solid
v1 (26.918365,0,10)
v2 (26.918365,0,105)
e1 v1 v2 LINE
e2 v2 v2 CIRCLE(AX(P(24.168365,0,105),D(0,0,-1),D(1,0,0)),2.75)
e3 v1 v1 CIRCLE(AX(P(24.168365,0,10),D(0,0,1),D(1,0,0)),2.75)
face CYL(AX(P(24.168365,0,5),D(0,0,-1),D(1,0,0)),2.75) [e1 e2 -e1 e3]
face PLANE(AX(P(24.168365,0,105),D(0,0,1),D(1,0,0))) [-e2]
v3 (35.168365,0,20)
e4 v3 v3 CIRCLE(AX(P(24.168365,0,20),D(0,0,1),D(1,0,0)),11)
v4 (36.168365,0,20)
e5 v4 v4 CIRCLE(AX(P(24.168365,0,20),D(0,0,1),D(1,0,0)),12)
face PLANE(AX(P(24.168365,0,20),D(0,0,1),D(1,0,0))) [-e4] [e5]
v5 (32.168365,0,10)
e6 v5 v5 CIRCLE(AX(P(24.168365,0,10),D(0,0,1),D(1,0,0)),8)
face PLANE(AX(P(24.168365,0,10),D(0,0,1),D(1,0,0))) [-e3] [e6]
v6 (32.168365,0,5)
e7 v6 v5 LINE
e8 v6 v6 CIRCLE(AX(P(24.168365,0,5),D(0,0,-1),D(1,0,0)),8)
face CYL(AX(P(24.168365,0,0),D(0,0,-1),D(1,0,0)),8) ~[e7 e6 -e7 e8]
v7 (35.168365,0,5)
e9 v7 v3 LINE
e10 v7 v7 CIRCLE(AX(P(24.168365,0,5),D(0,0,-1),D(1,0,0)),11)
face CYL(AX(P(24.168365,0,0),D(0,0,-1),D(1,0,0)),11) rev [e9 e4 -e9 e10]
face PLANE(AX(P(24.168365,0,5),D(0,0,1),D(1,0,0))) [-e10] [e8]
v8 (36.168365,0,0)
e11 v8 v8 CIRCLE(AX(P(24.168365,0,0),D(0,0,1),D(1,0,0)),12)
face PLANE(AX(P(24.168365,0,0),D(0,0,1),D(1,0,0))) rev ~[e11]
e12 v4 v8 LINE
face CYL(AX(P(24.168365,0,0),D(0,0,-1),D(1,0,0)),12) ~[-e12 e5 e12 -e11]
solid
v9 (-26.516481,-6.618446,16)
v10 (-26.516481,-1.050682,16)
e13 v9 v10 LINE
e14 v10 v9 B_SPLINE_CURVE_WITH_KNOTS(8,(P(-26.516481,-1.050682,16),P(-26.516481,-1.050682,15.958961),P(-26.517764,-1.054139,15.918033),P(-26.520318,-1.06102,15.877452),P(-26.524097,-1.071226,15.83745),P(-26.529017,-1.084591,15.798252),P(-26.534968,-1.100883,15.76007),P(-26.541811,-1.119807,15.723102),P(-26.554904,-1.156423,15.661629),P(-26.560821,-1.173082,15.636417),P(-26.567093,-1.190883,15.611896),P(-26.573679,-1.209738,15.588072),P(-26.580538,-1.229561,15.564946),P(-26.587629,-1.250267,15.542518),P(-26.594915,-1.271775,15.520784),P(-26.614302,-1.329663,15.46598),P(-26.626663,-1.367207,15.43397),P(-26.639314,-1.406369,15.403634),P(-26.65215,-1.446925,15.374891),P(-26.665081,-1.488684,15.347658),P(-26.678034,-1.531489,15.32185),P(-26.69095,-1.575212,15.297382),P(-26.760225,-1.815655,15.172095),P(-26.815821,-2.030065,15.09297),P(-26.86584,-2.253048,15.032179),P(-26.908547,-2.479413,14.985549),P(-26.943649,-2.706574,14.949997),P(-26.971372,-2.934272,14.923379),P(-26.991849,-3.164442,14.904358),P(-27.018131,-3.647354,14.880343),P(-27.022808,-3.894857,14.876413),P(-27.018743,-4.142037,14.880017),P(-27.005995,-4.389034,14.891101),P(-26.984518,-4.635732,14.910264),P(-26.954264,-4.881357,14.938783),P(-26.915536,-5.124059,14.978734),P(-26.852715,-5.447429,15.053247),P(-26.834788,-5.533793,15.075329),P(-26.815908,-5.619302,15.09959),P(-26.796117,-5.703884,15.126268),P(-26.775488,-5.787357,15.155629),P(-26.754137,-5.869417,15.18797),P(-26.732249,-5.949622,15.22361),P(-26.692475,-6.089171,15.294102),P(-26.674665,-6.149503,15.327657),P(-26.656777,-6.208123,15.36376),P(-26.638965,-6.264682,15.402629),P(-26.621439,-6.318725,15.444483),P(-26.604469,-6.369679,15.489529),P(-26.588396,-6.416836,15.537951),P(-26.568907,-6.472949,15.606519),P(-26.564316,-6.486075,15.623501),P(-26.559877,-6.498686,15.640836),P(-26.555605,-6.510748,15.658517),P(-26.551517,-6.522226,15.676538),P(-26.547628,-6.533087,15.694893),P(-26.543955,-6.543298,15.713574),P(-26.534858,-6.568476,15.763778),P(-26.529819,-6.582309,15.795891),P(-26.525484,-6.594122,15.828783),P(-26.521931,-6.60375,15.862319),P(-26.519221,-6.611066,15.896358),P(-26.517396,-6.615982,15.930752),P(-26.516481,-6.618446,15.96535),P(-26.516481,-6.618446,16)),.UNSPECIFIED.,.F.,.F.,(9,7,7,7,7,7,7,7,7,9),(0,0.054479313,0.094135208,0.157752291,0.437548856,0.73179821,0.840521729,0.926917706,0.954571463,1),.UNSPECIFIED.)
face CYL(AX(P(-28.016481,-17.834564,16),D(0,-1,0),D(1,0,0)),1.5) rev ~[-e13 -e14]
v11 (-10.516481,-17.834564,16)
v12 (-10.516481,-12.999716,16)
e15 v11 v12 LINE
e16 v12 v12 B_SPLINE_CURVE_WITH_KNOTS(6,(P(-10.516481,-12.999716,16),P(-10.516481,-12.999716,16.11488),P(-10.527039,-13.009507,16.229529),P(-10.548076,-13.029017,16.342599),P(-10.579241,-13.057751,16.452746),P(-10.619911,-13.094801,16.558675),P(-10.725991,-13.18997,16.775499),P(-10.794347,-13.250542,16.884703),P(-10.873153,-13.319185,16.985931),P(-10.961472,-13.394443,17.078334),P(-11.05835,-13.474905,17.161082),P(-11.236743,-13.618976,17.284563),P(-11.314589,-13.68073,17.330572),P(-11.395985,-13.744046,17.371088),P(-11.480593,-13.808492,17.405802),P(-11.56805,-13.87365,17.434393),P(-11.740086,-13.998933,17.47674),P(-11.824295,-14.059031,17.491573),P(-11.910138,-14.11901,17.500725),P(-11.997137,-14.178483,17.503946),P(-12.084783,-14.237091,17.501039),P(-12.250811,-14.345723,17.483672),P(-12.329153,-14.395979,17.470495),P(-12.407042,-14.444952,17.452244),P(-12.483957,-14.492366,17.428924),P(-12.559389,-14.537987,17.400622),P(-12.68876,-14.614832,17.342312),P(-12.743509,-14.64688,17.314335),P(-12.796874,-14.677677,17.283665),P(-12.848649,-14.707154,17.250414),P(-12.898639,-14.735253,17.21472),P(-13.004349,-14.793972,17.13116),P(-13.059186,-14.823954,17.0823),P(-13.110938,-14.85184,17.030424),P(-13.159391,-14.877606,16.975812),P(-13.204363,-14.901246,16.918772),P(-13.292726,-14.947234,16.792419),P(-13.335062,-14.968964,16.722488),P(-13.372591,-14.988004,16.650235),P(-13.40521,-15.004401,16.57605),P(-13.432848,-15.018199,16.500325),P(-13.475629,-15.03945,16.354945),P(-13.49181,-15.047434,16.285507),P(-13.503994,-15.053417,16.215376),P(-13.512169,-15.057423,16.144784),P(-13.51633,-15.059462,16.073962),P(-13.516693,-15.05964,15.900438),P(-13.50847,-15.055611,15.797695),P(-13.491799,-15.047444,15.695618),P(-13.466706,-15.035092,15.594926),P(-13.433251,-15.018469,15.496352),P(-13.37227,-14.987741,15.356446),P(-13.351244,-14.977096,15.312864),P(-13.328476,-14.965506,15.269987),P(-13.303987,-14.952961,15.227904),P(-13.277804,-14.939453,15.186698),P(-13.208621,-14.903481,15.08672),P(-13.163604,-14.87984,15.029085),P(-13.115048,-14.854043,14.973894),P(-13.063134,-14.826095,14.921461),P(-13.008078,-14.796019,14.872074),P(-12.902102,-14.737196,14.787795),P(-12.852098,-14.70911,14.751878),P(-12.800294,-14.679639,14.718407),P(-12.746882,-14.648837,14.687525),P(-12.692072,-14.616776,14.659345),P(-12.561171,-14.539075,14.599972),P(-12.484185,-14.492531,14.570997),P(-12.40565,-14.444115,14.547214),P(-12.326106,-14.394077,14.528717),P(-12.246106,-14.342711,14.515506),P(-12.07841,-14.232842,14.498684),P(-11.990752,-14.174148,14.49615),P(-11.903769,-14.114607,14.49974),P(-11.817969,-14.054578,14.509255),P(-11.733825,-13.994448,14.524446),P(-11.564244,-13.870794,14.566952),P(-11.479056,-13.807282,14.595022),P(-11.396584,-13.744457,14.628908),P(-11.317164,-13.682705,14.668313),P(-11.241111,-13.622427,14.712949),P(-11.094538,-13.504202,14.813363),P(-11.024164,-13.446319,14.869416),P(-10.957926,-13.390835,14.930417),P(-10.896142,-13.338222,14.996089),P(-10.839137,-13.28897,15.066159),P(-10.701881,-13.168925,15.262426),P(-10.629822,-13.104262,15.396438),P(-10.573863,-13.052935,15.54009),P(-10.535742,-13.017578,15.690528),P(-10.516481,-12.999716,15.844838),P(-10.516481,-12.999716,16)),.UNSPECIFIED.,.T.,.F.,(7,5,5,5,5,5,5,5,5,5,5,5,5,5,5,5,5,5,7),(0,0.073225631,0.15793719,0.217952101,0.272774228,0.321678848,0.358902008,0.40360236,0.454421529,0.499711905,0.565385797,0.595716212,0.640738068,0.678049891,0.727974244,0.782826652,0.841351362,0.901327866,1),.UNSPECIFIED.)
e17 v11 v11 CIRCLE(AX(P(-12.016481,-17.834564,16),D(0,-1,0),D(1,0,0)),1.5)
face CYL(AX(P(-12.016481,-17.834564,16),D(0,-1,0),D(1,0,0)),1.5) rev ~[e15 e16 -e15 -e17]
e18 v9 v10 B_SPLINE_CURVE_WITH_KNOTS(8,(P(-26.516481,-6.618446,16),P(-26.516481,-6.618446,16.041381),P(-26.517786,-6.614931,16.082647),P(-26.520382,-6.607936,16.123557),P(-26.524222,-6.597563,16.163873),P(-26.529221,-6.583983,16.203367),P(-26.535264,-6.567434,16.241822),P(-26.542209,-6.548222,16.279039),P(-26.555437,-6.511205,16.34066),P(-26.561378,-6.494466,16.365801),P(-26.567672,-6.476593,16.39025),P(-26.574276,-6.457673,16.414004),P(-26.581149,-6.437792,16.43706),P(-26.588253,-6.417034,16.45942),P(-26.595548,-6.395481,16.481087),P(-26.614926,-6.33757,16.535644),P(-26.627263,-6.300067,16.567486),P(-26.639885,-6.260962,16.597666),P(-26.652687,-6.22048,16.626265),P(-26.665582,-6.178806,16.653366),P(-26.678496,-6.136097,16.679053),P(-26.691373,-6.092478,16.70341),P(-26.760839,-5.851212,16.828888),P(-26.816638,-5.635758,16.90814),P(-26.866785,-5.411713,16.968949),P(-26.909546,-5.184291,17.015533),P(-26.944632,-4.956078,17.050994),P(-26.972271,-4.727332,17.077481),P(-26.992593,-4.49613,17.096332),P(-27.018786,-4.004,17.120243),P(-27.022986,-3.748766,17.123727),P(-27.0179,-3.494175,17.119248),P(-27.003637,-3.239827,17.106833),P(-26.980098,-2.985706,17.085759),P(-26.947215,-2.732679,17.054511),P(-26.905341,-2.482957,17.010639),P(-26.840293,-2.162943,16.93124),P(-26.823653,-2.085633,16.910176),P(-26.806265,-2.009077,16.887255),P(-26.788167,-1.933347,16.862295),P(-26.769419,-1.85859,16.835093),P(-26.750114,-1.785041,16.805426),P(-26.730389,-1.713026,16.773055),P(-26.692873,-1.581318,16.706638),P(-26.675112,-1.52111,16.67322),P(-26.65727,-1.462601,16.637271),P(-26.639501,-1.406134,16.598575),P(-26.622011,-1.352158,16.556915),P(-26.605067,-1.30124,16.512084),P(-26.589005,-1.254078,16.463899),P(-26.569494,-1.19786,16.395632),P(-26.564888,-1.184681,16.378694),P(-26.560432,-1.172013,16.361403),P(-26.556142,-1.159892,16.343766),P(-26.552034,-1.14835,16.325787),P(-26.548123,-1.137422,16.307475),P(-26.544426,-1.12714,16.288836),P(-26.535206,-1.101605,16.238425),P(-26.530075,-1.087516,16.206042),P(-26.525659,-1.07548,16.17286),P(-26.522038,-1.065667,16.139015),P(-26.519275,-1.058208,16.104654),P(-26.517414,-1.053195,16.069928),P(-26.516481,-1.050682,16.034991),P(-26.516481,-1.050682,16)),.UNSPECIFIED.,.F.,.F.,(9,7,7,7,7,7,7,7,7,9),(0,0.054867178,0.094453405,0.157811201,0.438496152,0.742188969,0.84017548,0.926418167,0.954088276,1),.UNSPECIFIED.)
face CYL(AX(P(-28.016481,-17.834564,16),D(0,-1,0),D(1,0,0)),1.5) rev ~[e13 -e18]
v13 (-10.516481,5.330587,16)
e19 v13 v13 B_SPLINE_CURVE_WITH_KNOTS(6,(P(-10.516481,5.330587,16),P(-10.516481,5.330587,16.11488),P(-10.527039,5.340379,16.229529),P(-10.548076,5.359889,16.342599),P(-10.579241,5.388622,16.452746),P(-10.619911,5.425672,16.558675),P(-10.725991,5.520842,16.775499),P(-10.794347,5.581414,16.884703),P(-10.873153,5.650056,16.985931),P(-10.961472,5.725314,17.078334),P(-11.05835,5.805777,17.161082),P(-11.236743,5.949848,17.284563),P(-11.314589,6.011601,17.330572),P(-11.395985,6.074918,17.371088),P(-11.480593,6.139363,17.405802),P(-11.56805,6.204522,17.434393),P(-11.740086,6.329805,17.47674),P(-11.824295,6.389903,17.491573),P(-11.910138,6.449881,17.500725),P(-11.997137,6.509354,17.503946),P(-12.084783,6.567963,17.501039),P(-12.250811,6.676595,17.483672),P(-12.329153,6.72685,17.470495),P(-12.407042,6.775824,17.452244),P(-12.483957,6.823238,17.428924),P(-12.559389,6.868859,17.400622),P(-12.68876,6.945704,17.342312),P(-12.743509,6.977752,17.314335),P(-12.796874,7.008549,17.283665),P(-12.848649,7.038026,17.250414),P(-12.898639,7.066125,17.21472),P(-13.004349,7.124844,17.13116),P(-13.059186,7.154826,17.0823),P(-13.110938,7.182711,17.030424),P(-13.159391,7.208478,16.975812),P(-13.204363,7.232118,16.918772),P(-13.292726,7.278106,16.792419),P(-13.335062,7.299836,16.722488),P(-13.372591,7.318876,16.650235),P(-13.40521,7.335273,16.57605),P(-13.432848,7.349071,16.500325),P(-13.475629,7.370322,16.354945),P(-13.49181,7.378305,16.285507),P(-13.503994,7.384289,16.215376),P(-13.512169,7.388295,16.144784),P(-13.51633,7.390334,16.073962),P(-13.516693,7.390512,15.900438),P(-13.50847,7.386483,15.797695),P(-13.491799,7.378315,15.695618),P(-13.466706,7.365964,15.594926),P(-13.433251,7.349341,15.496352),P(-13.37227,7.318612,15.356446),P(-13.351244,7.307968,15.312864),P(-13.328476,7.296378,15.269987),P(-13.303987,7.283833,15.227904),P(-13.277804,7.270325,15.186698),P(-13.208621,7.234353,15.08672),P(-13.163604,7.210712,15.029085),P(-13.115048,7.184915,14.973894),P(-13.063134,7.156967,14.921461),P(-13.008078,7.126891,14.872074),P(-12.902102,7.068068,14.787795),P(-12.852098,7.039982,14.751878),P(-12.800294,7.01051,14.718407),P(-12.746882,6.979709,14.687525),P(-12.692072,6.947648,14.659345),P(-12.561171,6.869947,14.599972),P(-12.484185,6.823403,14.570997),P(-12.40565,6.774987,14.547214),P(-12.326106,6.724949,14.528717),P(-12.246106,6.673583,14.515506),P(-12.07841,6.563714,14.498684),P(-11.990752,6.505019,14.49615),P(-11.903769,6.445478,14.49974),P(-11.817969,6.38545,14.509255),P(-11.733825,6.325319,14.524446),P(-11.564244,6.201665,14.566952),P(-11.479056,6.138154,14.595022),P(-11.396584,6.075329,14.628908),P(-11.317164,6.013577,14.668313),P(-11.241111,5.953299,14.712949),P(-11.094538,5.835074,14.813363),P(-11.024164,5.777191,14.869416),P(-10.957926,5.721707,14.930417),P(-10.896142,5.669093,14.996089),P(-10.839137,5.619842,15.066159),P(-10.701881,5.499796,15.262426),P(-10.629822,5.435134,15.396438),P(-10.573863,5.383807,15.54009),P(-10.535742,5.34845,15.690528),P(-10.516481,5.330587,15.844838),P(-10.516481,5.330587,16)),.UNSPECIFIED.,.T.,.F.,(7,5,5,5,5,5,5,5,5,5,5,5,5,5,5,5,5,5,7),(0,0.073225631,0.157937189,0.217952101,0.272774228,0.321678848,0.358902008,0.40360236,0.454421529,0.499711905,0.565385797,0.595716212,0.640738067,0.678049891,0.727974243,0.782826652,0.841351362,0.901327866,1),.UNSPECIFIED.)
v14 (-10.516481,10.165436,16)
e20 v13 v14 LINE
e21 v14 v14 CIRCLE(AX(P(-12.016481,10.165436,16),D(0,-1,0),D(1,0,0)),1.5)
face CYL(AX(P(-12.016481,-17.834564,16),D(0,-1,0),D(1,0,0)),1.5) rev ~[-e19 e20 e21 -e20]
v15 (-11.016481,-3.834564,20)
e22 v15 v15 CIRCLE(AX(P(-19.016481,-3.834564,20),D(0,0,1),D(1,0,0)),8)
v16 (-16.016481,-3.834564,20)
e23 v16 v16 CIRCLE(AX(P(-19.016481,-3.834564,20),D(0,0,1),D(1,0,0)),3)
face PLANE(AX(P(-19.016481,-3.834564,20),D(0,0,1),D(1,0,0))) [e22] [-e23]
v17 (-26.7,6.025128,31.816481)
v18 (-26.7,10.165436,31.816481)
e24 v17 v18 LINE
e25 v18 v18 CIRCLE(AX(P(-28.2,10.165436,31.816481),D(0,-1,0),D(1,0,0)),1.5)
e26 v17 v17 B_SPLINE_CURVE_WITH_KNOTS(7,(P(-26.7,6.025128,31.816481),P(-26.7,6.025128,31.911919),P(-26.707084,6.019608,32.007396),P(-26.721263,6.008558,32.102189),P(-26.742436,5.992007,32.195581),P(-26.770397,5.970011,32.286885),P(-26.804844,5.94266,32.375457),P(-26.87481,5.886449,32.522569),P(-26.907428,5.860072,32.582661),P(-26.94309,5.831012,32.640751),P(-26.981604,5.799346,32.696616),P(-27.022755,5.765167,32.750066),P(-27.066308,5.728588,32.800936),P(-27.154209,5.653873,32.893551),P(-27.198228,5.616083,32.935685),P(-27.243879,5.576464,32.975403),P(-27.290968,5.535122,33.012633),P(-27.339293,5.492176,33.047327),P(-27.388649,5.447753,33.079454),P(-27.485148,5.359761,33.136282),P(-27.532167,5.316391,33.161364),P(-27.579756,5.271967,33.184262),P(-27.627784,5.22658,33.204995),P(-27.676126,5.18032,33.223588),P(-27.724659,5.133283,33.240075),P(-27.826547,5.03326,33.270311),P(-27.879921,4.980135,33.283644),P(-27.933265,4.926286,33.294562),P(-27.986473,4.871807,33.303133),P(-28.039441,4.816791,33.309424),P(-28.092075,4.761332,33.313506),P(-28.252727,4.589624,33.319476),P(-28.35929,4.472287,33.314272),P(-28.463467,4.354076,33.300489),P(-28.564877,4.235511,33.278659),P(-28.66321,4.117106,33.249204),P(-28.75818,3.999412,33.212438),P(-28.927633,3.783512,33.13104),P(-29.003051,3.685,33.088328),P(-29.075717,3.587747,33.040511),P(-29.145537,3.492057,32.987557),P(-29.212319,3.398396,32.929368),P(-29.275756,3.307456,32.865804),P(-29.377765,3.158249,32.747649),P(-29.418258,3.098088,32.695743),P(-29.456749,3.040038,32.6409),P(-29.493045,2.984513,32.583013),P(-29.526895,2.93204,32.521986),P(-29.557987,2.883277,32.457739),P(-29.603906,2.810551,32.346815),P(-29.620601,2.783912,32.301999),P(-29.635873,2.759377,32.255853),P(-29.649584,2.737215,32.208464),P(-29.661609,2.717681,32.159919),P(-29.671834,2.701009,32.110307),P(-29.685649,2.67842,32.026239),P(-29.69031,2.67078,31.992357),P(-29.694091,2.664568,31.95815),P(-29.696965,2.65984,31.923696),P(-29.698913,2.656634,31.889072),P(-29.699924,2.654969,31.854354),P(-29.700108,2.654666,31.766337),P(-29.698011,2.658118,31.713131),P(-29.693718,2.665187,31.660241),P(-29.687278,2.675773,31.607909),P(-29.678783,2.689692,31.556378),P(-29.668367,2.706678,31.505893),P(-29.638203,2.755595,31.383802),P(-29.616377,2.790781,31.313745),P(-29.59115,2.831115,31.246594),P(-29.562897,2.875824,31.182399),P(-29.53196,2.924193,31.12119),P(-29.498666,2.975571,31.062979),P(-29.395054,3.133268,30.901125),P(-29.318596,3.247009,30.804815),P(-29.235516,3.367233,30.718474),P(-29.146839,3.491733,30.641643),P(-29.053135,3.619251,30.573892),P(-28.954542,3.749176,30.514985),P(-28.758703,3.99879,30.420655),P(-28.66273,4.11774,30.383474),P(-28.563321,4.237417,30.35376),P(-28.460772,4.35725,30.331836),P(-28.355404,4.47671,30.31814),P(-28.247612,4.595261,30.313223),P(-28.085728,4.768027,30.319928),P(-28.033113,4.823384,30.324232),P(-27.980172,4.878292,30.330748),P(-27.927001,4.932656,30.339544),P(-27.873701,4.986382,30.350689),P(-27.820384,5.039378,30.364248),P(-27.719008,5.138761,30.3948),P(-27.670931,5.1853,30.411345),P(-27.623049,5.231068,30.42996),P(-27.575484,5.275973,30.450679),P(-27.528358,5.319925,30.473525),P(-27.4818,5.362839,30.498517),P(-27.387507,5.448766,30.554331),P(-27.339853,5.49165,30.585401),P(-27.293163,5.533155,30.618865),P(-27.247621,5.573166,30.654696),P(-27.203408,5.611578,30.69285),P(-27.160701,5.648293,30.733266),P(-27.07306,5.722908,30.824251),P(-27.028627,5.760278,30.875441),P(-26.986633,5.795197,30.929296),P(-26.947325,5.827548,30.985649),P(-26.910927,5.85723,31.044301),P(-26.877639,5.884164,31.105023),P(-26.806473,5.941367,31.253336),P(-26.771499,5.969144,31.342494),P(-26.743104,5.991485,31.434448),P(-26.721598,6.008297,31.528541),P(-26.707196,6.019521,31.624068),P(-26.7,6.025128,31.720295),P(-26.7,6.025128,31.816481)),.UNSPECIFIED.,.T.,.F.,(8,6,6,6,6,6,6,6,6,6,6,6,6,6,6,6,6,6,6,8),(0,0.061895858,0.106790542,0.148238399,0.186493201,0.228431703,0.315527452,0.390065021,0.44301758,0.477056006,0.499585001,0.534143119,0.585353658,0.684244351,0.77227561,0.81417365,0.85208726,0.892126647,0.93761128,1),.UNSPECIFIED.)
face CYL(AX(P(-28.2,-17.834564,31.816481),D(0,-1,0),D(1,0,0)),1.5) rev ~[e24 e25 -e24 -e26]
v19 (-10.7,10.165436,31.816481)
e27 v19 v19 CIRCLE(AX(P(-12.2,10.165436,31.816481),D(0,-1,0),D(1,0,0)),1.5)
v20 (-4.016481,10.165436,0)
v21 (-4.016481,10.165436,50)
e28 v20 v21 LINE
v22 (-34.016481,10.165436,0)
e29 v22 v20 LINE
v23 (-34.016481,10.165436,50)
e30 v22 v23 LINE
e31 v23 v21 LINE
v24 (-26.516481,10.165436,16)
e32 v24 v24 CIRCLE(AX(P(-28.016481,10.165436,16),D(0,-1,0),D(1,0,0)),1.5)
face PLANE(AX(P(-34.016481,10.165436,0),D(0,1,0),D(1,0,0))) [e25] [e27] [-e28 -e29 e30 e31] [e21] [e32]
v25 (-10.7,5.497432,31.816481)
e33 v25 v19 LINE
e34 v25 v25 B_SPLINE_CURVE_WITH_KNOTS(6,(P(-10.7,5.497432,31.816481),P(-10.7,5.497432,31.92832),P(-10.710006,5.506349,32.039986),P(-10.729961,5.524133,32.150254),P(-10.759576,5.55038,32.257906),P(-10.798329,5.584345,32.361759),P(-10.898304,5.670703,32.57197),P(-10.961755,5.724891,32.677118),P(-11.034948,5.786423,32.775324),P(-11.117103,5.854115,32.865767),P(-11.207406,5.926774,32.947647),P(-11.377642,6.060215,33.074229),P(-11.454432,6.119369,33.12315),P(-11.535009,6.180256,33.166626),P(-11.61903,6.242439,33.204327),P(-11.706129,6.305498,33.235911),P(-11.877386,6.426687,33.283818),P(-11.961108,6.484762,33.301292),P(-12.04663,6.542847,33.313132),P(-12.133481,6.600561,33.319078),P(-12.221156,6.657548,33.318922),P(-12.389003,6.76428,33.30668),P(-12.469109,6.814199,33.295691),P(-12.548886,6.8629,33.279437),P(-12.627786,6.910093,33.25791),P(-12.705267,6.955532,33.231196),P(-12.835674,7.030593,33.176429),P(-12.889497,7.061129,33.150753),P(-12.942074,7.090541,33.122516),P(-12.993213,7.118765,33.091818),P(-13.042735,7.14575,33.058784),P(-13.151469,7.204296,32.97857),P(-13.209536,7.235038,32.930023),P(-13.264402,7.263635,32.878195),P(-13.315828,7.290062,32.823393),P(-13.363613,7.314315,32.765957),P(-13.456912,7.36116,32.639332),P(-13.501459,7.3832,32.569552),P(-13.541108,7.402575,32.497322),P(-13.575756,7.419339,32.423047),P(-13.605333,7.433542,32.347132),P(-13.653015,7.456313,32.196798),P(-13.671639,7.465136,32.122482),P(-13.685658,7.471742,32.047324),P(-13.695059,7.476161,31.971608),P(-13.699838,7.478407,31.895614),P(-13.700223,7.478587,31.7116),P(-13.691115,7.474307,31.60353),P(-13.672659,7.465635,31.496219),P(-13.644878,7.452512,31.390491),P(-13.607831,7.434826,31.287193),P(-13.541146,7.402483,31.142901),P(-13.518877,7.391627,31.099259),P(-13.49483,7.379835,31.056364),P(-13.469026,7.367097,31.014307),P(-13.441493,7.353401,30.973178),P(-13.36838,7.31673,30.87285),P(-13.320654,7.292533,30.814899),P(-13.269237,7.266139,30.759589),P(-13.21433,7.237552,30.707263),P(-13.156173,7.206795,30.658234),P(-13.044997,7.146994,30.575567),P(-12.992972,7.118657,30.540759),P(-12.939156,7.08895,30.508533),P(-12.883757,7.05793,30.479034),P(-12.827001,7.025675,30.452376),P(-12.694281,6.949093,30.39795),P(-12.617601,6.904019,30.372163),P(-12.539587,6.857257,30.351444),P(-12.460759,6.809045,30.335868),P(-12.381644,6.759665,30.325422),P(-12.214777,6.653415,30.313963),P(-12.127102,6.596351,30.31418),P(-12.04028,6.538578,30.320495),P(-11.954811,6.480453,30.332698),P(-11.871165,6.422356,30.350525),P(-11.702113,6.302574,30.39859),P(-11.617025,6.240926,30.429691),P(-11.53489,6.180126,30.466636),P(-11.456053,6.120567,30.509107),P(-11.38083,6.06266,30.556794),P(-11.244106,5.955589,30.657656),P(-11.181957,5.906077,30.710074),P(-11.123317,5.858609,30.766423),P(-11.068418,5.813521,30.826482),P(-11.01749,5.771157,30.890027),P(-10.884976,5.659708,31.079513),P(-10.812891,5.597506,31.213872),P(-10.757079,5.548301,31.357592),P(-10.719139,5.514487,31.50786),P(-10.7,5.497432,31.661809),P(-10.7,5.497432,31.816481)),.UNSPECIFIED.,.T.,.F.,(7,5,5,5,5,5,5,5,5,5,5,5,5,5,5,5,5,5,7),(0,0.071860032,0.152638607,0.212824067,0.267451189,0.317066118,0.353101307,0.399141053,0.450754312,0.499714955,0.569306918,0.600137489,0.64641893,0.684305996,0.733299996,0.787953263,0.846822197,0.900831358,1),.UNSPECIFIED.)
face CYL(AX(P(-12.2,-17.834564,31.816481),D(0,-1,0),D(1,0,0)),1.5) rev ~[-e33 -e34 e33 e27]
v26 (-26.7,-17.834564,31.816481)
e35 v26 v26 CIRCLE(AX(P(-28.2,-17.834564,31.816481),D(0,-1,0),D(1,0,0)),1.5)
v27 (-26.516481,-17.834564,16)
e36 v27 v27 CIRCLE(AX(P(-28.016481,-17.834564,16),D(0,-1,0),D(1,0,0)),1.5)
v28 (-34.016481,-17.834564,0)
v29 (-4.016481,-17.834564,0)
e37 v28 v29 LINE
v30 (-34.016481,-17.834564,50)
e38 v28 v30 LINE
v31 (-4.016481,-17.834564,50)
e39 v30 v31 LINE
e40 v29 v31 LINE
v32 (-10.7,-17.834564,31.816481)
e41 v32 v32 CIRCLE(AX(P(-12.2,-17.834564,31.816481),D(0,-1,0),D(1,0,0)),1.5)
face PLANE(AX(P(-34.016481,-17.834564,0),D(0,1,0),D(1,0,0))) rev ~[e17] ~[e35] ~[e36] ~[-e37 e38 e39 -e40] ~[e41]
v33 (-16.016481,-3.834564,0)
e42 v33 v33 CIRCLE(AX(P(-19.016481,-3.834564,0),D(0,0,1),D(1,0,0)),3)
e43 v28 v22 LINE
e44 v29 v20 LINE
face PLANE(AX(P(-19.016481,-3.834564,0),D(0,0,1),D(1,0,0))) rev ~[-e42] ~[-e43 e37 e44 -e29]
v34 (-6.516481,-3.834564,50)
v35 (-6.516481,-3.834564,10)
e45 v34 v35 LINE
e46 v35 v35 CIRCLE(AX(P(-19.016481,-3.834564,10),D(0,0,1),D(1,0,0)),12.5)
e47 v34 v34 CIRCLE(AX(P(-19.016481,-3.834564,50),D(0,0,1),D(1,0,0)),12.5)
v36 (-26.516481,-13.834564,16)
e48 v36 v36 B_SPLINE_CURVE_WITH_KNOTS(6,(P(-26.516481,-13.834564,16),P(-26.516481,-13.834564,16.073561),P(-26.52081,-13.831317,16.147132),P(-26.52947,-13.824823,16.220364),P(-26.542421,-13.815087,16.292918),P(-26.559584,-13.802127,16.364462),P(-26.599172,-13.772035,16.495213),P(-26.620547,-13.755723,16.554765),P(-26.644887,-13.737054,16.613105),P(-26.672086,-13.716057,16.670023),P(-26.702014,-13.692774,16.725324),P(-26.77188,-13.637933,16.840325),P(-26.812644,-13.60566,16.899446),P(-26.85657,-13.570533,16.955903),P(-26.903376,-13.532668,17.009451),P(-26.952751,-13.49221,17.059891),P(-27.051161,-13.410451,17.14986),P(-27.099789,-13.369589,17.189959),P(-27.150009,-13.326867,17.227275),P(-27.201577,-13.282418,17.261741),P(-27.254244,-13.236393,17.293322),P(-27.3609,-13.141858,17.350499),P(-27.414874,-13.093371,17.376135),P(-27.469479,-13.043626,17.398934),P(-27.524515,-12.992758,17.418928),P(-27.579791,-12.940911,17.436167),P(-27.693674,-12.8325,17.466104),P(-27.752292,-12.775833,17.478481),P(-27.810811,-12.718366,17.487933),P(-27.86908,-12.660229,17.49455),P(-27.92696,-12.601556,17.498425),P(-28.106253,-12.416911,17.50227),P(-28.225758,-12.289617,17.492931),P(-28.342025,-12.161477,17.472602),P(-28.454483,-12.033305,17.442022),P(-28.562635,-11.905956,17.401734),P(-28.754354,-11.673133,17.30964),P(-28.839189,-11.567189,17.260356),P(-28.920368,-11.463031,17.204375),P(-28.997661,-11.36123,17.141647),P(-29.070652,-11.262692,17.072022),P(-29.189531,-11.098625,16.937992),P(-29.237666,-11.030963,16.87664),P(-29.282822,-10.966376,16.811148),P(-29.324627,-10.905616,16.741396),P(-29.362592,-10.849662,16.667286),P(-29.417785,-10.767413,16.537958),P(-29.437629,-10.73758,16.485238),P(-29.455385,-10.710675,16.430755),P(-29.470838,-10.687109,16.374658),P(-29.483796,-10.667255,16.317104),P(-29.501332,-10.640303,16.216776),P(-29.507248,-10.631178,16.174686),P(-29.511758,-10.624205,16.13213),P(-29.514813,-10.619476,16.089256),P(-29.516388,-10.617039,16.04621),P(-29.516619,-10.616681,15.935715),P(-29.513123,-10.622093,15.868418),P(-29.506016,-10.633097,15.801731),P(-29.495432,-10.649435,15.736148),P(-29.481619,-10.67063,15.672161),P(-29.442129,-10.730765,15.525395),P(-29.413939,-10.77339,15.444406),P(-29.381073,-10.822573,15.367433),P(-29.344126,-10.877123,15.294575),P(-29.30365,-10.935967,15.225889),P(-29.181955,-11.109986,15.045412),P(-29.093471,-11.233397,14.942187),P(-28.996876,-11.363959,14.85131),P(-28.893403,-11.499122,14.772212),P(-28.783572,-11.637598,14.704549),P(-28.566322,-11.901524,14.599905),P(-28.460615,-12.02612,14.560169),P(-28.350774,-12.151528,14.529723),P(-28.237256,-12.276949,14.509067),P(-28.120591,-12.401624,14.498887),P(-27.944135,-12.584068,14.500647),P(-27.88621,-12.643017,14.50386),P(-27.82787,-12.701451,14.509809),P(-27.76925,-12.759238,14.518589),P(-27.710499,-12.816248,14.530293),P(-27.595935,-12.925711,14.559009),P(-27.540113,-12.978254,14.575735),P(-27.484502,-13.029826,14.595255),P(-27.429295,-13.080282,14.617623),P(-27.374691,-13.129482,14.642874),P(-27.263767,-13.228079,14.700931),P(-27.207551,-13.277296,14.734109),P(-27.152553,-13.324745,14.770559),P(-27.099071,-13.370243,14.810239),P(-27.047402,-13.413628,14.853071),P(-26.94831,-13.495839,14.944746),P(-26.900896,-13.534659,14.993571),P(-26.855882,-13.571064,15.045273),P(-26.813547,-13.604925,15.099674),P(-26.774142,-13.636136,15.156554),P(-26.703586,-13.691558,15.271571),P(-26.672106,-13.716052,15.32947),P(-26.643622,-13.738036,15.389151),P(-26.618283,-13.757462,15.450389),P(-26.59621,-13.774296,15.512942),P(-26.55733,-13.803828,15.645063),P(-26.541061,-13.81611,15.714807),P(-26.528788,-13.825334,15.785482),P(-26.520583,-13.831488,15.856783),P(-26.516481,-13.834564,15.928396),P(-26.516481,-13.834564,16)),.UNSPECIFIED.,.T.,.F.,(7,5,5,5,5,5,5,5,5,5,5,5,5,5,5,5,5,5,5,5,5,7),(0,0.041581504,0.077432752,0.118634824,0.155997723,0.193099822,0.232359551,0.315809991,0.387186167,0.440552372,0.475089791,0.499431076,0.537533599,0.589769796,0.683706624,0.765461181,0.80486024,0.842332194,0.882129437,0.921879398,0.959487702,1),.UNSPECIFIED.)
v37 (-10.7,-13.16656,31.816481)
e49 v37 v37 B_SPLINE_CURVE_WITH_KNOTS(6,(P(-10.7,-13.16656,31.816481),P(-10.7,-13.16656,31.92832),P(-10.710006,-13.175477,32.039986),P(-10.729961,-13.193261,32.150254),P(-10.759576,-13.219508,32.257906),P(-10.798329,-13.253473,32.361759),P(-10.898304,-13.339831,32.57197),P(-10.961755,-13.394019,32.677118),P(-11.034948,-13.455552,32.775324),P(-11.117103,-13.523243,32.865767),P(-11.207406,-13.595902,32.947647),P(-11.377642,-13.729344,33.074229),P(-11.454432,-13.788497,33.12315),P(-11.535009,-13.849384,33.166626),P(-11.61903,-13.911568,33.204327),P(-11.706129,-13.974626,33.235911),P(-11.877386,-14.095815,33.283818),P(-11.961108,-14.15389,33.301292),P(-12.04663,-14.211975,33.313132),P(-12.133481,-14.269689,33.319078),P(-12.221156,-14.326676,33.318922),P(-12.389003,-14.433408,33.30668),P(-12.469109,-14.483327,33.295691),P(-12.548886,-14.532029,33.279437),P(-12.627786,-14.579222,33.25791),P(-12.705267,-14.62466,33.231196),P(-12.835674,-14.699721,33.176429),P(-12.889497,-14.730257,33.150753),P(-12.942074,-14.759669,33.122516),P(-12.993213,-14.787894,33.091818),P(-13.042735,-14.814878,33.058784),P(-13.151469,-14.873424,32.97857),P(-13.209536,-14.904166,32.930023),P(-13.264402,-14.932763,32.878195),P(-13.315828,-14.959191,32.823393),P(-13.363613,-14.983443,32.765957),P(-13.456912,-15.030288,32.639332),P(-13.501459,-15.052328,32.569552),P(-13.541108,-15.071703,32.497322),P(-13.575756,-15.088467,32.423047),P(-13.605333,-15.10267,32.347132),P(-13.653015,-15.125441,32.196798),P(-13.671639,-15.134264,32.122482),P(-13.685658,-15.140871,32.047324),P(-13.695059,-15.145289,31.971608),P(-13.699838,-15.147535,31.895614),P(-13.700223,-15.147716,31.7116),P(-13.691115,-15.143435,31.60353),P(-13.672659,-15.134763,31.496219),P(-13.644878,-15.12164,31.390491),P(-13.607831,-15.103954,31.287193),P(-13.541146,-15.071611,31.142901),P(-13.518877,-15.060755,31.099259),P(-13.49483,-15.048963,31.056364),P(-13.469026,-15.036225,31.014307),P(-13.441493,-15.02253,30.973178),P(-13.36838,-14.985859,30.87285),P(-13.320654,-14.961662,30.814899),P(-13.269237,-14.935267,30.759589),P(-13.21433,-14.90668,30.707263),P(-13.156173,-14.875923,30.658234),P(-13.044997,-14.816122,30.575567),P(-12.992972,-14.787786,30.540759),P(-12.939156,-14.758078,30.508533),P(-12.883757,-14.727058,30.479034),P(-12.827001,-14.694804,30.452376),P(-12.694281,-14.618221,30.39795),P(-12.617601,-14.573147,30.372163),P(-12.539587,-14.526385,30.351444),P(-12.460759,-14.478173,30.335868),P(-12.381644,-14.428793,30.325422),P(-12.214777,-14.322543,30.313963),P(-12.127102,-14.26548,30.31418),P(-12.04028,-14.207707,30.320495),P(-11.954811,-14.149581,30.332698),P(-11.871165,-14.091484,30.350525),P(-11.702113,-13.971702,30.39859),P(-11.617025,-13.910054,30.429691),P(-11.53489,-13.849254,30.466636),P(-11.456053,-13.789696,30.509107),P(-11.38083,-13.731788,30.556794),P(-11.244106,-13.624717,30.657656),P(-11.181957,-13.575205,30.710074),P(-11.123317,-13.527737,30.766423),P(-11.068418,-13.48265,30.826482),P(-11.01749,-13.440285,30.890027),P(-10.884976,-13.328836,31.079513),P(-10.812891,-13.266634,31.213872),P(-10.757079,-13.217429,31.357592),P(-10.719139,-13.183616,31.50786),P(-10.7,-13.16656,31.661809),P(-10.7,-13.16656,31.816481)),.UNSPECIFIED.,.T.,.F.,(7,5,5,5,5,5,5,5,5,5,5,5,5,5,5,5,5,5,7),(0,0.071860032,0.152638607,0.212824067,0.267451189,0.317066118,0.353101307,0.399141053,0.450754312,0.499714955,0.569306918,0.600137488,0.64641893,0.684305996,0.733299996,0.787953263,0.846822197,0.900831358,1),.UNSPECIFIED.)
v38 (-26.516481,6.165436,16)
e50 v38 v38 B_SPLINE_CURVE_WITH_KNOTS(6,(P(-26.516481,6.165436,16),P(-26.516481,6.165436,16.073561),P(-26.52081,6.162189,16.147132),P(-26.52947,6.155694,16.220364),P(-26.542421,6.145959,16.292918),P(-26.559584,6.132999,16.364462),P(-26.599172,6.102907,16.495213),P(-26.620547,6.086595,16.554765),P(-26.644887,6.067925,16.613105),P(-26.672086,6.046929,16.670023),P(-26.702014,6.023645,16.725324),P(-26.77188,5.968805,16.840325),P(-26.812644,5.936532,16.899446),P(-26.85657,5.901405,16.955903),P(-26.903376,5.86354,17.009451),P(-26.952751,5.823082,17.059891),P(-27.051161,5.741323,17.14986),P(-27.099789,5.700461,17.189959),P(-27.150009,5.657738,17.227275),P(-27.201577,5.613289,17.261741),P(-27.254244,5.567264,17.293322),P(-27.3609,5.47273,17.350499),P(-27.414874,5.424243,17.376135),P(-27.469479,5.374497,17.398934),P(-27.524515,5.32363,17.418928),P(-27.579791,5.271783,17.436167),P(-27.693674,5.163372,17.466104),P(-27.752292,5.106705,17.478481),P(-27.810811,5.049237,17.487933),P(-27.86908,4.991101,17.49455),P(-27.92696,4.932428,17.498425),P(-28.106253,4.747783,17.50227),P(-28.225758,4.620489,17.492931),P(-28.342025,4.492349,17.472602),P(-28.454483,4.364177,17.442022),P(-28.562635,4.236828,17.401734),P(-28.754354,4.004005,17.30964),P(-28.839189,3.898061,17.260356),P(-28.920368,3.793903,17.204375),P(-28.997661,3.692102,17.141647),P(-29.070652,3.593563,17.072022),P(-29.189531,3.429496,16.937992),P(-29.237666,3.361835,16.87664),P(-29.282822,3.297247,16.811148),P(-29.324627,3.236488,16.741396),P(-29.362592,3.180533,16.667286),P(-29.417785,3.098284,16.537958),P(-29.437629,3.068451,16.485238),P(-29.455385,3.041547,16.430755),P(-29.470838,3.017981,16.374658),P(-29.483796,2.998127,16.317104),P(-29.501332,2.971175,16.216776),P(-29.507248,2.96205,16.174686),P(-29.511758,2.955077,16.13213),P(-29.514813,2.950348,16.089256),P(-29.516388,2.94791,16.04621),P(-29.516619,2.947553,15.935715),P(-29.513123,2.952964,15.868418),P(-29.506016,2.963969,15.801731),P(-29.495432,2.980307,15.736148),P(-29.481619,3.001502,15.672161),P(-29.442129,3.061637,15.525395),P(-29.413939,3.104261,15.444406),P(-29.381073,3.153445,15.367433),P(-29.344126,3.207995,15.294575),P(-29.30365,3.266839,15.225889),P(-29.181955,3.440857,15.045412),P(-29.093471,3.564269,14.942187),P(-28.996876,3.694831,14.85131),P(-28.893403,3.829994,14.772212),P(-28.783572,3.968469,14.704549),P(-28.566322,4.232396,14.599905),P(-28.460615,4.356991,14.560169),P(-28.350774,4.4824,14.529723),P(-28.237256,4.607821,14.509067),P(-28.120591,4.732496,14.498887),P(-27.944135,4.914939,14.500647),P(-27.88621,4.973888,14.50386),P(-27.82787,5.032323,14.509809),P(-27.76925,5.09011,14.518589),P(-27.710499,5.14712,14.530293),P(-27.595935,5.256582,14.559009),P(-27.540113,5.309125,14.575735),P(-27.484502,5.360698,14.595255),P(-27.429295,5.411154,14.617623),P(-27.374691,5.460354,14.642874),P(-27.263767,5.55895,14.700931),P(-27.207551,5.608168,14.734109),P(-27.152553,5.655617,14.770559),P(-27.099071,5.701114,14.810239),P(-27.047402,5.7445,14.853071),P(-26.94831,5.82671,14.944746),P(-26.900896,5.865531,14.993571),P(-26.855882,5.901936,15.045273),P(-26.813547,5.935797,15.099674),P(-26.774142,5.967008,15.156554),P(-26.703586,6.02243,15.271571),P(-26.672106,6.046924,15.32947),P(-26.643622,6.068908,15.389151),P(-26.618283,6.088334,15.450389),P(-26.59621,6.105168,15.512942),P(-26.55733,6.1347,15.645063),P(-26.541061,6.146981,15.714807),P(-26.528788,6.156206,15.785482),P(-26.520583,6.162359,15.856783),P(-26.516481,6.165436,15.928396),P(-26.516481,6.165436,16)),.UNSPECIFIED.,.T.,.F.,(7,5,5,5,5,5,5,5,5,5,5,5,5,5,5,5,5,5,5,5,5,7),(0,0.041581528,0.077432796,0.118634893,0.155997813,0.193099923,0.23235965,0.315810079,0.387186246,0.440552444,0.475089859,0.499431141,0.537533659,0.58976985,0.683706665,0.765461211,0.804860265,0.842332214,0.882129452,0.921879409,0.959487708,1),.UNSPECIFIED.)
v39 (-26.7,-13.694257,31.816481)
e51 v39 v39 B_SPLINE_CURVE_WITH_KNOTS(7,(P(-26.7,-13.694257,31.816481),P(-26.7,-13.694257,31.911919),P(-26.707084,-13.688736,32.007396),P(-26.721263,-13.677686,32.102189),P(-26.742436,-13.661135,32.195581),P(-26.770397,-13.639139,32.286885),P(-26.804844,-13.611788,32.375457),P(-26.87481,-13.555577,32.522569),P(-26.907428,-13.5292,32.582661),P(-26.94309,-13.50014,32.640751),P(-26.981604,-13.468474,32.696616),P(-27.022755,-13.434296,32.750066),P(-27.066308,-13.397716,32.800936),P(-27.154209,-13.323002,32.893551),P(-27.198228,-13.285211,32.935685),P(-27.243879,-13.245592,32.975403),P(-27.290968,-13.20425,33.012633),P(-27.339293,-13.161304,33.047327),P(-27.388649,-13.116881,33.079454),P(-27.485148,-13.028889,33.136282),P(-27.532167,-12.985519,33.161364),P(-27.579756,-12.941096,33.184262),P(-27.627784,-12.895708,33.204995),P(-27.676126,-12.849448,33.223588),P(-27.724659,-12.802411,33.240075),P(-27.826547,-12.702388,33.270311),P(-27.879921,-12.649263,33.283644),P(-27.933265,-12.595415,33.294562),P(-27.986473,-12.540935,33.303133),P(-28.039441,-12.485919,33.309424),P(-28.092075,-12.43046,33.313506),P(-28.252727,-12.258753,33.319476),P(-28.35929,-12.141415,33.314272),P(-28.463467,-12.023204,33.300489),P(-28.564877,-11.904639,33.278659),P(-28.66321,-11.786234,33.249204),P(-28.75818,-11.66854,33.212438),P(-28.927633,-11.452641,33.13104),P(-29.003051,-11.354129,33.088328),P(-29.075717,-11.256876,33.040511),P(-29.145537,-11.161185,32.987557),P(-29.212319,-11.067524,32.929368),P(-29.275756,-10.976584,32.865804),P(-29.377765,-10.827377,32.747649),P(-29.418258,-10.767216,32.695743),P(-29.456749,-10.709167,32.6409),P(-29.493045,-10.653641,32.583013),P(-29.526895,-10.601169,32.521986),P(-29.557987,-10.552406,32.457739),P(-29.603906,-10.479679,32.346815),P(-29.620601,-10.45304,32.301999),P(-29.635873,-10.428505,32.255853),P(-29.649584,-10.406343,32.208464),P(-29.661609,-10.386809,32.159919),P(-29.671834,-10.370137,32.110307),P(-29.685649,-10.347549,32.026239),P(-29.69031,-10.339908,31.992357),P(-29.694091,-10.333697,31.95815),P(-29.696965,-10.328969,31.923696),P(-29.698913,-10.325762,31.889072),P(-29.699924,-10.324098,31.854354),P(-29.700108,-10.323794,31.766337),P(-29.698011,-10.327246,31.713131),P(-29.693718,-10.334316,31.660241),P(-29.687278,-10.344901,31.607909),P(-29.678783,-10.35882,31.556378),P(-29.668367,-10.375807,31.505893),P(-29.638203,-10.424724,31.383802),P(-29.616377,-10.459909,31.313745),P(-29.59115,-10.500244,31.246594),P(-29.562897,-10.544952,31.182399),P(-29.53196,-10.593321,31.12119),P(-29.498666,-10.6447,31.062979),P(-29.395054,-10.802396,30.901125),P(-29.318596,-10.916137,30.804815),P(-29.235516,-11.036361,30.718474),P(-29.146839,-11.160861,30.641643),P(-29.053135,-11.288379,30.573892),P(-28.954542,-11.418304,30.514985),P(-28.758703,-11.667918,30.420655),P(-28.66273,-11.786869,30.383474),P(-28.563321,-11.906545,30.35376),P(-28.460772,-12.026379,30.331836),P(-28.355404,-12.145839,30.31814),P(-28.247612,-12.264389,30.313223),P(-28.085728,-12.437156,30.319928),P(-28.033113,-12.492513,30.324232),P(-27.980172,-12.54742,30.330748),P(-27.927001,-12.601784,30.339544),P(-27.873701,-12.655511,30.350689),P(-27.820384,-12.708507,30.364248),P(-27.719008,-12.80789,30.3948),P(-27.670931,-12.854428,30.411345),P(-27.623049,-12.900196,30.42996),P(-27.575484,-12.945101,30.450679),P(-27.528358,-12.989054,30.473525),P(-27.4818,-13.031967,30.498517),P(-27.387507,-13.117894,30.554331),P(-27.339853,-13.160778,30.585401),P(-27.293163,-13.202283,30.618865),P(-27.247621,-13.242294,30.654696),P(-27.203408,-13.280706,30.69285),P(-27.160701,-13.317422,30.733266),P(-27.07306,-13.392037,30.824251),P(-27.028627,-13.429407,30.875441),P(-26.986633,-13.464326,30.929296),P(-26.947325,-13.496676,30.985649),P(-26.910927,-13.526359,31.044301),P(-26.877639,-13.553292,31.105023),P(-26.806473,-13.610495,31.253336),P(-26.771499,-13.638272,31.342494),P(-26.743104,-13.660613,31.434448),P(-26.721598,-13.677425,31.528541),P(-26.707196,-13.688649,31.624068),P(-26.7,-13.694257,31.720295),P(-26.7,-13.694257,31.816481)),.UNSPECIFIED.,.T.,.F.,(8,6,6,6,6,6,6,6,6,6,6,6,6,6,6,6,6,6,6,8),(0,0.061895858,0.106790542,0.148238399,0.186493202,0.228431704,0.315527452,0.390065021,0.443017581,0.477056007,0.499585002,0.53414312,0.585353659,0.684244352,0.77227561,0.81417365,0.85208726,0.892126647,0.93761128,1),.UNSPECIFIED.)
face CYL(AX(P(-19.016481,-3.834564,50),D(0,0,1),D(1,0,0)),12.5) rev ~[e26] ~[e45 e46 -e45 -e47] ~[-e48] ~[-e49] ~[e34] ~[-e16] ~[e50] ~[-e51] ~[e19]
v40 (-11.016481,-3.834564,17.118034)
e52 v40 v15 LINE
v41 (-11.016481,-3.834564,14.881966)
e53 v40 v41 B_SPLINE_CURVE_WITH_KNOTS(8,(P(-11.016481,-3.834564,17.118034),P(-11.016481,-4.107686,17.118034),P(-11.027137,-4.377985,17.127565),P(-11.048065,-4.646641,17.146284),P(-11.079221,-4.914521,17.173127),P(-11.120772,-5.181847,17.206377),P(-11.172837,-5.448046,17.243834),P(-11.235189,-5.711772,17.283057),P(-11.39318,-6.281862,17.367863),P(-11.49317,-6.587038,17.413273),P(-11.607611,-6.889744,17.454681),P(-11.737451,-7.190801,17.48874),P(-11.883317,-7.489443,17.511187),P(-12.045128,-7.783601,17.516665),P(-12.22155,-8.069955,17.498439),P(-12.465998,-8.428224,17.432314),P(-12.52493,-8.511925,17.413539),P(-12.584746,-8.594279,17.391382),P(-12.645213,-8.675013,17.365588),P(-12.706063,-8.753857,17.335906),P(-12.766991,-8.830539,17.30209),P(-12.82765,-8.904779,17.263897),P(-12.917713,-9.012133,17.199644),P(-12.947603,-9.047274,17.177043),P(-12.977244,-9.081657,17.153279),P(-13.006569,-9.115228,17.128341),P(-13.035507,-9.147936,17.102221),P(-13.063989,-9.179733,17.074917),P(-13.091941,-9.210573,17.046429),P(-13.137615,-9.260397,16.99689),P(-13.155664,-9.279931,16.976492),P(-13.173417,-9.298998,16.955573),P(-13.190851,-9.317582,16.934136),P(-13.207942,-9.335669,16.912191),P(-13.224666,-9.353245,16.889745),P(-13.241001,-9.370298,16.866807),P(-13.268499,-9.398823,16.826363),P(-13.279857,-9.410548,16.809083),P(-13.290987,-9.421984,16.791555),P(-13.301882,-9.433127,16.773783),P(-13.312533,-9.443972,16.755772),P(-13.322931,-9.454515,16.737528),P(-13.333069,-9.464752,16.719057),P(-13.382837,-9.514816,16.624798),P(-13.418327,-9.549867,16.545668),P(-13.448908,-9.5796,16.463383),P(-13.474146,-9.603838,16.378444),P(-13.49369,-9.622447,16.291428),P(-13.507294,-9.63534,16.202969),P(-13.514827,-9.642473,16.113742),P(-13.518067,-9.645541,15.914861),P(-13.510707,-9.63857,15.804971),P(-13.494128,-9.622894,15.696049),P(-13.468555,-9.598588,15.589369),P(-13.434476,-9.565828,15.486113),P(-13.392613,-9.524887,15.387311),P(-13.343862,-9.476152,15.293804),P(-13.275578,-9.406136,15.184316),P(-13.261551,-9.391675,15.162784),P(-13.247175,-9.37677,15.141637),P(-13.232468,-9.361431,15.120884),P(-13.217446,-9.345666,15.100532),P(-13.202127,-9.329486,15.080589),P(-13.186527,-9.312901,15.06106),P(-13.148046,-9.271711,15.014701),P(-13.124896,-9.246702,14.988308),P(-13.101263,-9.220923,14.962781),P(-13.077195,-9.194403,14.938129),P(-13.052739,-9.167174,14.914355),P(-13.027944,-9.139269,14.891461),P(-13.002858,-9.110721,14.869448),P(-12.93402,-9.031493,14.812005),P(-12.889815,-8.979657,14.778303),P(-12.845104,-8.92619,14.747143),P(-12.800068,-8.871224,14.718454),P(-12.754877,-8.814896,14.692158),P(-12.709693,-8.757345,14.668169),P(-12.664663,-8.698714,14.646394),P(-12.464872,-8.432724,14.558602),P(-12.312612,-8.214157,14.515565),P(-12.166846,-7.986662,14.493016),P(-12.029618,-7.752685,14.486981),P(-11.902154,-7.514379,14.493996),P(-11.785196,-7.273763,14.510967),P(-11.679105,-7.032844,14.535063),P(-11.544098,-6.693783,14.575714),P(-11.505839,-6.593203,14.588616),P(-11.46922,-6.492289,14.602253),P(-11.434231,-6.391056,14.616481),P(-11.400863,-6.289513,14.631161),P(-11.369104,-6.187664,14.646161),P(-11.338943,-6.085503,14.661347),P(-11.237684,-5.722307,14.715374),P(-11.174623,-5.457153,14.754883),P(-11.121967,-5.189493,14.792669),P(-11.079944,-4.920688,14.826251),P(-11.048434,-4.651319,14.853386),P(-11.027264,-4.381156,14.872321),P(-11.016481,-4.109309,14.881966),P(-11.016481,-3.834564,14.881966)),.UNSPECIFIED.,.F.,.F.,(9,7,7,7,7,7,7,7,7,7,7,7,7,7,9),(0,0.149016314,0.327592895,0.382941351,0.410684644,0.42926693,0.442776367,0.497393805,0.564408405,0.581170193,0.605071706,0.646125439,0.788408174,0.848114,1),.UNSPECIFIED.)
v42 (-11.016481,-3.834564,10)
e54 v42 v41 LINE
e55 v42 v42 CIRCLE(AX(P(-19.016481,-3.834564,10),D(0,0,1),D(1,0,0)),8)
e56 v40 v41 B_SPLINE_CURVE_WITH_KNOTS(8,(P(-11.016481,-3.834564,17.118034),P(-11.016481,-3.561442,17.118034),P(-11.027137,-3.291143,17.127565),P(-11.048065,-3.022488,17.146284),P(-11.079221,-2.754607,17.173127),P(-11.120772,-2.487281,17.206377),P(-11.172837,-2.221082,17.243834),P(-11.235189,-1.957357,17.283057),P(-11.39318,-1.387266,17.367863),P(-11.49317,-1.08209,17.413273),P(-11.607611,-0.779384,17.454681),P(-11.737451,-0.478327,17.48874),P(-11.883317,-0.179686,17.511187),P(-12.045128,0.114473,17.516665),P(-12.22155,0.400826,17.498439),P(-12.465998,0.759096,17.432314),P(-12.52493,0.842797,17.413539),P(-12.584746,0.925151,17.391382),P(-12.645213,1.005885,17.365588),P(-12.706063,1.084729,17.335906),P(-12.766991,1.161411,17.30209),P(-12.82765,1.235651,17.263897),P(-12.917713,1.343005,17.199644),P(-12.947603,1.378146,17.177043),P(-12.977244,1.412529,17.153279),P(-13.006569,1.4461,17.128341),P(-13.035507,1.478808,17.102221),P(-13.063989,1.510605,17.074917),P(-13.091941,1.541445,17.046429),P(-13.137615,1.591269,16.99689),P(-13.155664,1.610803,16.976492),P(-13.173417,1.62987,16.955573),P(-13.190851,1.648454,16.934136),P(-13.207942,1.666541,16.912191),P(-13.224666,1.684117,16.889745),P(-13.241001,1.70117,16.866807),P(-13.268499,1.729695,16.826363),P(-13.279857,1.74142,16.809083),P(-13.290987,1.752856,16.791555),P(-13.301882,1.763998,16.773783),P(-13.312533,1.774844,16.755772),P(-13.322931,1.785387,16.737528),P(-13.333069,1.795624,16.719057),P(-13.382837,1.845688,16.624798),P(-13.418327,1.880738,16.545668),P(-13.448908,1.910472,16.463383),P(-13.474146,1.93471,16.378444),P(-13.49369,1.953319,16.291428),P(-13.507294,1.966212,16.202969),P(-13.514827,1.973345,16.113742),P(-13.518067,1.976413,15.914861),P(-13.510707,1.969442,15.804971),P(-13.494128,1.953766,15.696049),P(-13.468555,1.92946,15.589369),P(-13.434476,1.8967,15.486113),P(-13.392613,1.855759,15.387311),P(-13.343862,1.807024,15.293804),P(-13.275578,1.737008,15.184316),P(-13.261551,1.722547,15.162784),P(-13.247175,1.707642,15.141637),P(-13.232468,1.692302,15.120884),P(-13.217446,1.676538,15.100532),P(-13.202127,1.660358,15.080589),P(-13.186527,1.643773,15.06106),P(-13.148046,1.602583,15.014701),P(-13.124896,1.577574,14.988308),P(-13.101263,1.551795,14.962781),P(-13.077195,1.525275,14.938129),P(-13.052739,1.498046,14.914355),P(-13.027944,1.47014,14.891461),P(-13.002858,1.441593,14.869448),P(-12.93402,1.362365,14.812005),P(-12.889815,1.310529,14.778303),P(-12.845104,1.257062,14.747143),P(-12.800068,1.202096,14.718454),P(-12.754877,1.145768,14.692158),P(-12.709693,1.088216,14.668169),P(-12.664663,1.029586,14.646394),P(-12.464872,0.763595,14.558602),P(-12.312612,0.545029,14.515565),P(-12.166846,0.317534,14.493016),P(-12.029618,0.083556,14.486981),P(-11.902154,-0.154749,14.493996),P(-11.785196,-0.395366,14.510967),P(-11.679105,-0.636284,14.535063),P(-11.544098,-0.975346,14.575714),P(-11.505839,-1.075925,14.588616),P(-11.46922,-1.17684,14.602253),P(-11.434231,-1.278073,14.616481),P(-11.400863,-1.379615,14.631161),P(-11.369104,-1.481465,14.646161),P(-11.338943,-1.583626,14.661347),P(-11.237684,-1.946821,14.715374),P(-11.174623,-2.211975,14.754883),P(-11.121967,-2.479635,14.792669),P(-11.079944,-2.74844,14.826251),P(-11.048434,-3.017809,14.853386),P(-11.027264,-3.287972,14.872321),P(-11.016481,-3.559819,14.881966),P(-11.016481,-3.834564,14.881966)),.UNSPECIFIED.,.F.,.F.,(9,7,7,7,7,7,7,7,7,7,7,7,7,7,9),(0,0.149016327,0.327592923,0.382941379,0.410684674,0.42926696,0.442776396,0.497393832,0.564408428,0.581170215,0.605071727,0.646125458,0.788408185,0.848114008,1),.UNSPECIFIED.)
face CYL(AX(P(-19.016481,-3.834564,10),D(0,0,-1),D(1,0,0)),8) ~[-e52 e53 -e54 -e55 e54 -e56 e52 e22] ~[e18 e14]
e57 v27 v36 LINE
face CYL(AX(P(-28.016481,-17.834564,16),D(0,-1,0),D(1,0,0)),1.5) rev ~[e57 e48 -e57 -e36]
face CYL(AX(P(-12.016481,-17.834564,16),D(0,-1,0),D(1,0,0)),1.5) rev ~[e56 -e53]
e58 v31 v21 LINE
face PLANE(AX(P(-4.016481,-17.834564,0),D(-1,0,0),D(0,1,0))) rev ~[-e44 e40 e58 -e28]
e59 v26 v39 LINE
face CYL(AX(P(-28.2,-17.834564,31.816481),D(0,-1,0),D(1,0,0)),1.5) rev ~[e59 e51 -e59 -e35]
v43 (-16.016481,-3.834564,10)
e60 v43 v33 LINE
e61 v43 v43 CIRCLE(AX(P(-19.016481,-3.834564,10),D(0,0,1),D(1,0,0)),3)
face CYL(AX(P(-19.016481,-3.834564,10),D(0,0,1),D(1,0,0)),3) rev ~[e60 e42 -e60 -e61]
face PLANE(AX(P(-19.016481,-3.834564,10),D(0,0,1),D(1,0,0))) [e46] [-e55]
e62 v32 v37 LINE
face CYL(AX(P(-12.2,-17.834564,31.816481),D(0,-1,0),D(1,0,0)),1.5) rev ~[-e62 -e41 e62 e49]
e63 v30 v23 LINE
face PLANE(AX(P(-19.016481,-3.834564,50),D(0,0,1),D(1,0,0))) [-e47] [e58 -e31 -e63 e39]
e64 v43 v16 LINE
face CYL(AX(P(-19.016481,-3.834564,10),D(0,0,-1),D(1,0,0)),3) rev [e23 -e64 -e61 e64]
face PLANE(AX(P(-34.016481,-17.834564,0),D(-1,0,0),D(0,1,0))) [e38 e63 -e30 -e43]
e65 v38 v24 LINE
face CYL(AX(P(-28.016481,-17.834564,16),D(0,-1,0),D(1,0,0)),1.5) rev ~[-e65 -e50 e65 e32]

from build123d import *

# Parameters (mm, degrees)
F0_W      = 30
F0_H      = 28
F1_DEPTH  = 50
F2_R      = 12.5
F3_DEPTH  = 40
F4_R      = 8
F4_R_2    = 3
F5_DEPTH  = 10
F6_R      = 8
F6_R_2    = 2.75
F7_DEPTH  = 10
F6_R_3    = 12
F6_R_4    = 11
F8_DEPTH  = 20
F9_DEPTH  = 5
F10_DEPTH = 10.001
F11_DEPTH = 100
F12_R     = 1.5
F13_DEPTH = 29.8355641133


with BuildPart() as f1:
    # F0 (on Top) → F1 (new body)
    with BuildSketch(Plane.XY):
        with Locations((-19.0164810047, -3.8345641133)):
            Rectangle(F0_W, F0_H)
    extrude(amount=F1_DEPTH)

    # F2 (on face) → F3 (cut)
    with BuildSketch(Plane.XY.offset(50)):
        with Locations((-19.0164810047, -3.8345641133)):
            Circle(F2_R)
    extrude(amount=-F3_DEPTH, mode=Mode.SUBTRACT)

    # F4 (on face) → F5 (join)
    with BuildSketch(Plane.XY.offset(10)):
        with Locations((-19.0164810047, -3.8345641133)):
            Circle(F4_R)
        with Locations((-19.0164810047, -3.8345641133)):
            Circle(F4_R_2, mode=Mode.SUBTRACT)
    extrude(amount=F5_DEPTH)

    # F10 (cut, through all): a face of the model
    f10_faces = [f1.faces().sort_by_distance(p)[0] for p in [
        (-19.0164810047, -3.8345641133, 10),
    ]]
    extrude(f10_faces, amount=-F10_DEPTH, mode=Mode.SUBTRACT)

    # F12 (on face) → F13 (cut, through all)
    with BuildSketch(Plane.XZ.offset(17.8345641133)):
        with Locations((-28.2, 31.8164810047)):
            Circle(F12_R)
        with Locations((-12.2, 31.8164810047)):
            Circle(F12_R)
        with Locations((-12.0164810047, 16)):
            Circle(F12_R)
        with Locations((-28.0164810047, 16)):
            Circle(F12_R)
    extrude(amount=-F13_DEPTH, mode=Mode.SUBTRACT)


with BuildPart() as f7:
    # F6 (on Top) → F7 (new body)
    with BuildSketch(Plane.XY):
        with Locations((24.1683647183, 0)):
            Circle(F6_R)
        with Locations((24.1683647183, 0)):
            Circle(F6_R_2, mode=Mode.SUBTRACT)
    extrude(amount=F7_DEPTH)



with BuildPart() as f8:
    # F6 (on Top) → F8 (new body)
    with BuildSketch(Plane.XY):
        with Locations((24.1683647183, 0)):
            Circle(F6_R_3)
        with Locations((24.1683647183, 0)):
            Circle(F6_R_4, mode=Mode.SUBTRACT)
    extrude(amount=F8_DEPTH)


with BuildPart() as f7_1:
    add(f7.part)

    add(f8.part)  # F9 merges F8
    # F6 (on Top) → F9 (join)
    with BuildSketch(Plane.XY):
        with Locations((24.1683647183, 0)):
            Circle(F6_R_3)
        with Locations((24.1683647183, 0)):
            Circle(F6_R_4, mode=Mode.SUBTRACT)
        with Locations((24.1683647183, 0)):
            Circle(F6_R_4)
        with Locations((24.1683647183, 0)):
            Circle(F6_R, mode=Mode.SUBTRACT)
        with Locations((24.1683647183, 0)):
            Circle(F6_R)
        with Locations((24.1683647183, 0)):
            Circle(F6_R_2, mode=Mode.SUBTRACT)
        with Locations((24.1683647183, 0)):
            Circle(F6_R_2)
    extrude(amount=F9_DEPTH)

    # F11 (add): a face of the model
    f11_faces = [f7_1.faces().sort_by_distance(p)[0] for p in [
        (24.1683647183, 0, 5),
    ]]
    extrude(f11_faces, amount=F11_DEPTH)


solid = Compound([f1.part, f7_1.part])
